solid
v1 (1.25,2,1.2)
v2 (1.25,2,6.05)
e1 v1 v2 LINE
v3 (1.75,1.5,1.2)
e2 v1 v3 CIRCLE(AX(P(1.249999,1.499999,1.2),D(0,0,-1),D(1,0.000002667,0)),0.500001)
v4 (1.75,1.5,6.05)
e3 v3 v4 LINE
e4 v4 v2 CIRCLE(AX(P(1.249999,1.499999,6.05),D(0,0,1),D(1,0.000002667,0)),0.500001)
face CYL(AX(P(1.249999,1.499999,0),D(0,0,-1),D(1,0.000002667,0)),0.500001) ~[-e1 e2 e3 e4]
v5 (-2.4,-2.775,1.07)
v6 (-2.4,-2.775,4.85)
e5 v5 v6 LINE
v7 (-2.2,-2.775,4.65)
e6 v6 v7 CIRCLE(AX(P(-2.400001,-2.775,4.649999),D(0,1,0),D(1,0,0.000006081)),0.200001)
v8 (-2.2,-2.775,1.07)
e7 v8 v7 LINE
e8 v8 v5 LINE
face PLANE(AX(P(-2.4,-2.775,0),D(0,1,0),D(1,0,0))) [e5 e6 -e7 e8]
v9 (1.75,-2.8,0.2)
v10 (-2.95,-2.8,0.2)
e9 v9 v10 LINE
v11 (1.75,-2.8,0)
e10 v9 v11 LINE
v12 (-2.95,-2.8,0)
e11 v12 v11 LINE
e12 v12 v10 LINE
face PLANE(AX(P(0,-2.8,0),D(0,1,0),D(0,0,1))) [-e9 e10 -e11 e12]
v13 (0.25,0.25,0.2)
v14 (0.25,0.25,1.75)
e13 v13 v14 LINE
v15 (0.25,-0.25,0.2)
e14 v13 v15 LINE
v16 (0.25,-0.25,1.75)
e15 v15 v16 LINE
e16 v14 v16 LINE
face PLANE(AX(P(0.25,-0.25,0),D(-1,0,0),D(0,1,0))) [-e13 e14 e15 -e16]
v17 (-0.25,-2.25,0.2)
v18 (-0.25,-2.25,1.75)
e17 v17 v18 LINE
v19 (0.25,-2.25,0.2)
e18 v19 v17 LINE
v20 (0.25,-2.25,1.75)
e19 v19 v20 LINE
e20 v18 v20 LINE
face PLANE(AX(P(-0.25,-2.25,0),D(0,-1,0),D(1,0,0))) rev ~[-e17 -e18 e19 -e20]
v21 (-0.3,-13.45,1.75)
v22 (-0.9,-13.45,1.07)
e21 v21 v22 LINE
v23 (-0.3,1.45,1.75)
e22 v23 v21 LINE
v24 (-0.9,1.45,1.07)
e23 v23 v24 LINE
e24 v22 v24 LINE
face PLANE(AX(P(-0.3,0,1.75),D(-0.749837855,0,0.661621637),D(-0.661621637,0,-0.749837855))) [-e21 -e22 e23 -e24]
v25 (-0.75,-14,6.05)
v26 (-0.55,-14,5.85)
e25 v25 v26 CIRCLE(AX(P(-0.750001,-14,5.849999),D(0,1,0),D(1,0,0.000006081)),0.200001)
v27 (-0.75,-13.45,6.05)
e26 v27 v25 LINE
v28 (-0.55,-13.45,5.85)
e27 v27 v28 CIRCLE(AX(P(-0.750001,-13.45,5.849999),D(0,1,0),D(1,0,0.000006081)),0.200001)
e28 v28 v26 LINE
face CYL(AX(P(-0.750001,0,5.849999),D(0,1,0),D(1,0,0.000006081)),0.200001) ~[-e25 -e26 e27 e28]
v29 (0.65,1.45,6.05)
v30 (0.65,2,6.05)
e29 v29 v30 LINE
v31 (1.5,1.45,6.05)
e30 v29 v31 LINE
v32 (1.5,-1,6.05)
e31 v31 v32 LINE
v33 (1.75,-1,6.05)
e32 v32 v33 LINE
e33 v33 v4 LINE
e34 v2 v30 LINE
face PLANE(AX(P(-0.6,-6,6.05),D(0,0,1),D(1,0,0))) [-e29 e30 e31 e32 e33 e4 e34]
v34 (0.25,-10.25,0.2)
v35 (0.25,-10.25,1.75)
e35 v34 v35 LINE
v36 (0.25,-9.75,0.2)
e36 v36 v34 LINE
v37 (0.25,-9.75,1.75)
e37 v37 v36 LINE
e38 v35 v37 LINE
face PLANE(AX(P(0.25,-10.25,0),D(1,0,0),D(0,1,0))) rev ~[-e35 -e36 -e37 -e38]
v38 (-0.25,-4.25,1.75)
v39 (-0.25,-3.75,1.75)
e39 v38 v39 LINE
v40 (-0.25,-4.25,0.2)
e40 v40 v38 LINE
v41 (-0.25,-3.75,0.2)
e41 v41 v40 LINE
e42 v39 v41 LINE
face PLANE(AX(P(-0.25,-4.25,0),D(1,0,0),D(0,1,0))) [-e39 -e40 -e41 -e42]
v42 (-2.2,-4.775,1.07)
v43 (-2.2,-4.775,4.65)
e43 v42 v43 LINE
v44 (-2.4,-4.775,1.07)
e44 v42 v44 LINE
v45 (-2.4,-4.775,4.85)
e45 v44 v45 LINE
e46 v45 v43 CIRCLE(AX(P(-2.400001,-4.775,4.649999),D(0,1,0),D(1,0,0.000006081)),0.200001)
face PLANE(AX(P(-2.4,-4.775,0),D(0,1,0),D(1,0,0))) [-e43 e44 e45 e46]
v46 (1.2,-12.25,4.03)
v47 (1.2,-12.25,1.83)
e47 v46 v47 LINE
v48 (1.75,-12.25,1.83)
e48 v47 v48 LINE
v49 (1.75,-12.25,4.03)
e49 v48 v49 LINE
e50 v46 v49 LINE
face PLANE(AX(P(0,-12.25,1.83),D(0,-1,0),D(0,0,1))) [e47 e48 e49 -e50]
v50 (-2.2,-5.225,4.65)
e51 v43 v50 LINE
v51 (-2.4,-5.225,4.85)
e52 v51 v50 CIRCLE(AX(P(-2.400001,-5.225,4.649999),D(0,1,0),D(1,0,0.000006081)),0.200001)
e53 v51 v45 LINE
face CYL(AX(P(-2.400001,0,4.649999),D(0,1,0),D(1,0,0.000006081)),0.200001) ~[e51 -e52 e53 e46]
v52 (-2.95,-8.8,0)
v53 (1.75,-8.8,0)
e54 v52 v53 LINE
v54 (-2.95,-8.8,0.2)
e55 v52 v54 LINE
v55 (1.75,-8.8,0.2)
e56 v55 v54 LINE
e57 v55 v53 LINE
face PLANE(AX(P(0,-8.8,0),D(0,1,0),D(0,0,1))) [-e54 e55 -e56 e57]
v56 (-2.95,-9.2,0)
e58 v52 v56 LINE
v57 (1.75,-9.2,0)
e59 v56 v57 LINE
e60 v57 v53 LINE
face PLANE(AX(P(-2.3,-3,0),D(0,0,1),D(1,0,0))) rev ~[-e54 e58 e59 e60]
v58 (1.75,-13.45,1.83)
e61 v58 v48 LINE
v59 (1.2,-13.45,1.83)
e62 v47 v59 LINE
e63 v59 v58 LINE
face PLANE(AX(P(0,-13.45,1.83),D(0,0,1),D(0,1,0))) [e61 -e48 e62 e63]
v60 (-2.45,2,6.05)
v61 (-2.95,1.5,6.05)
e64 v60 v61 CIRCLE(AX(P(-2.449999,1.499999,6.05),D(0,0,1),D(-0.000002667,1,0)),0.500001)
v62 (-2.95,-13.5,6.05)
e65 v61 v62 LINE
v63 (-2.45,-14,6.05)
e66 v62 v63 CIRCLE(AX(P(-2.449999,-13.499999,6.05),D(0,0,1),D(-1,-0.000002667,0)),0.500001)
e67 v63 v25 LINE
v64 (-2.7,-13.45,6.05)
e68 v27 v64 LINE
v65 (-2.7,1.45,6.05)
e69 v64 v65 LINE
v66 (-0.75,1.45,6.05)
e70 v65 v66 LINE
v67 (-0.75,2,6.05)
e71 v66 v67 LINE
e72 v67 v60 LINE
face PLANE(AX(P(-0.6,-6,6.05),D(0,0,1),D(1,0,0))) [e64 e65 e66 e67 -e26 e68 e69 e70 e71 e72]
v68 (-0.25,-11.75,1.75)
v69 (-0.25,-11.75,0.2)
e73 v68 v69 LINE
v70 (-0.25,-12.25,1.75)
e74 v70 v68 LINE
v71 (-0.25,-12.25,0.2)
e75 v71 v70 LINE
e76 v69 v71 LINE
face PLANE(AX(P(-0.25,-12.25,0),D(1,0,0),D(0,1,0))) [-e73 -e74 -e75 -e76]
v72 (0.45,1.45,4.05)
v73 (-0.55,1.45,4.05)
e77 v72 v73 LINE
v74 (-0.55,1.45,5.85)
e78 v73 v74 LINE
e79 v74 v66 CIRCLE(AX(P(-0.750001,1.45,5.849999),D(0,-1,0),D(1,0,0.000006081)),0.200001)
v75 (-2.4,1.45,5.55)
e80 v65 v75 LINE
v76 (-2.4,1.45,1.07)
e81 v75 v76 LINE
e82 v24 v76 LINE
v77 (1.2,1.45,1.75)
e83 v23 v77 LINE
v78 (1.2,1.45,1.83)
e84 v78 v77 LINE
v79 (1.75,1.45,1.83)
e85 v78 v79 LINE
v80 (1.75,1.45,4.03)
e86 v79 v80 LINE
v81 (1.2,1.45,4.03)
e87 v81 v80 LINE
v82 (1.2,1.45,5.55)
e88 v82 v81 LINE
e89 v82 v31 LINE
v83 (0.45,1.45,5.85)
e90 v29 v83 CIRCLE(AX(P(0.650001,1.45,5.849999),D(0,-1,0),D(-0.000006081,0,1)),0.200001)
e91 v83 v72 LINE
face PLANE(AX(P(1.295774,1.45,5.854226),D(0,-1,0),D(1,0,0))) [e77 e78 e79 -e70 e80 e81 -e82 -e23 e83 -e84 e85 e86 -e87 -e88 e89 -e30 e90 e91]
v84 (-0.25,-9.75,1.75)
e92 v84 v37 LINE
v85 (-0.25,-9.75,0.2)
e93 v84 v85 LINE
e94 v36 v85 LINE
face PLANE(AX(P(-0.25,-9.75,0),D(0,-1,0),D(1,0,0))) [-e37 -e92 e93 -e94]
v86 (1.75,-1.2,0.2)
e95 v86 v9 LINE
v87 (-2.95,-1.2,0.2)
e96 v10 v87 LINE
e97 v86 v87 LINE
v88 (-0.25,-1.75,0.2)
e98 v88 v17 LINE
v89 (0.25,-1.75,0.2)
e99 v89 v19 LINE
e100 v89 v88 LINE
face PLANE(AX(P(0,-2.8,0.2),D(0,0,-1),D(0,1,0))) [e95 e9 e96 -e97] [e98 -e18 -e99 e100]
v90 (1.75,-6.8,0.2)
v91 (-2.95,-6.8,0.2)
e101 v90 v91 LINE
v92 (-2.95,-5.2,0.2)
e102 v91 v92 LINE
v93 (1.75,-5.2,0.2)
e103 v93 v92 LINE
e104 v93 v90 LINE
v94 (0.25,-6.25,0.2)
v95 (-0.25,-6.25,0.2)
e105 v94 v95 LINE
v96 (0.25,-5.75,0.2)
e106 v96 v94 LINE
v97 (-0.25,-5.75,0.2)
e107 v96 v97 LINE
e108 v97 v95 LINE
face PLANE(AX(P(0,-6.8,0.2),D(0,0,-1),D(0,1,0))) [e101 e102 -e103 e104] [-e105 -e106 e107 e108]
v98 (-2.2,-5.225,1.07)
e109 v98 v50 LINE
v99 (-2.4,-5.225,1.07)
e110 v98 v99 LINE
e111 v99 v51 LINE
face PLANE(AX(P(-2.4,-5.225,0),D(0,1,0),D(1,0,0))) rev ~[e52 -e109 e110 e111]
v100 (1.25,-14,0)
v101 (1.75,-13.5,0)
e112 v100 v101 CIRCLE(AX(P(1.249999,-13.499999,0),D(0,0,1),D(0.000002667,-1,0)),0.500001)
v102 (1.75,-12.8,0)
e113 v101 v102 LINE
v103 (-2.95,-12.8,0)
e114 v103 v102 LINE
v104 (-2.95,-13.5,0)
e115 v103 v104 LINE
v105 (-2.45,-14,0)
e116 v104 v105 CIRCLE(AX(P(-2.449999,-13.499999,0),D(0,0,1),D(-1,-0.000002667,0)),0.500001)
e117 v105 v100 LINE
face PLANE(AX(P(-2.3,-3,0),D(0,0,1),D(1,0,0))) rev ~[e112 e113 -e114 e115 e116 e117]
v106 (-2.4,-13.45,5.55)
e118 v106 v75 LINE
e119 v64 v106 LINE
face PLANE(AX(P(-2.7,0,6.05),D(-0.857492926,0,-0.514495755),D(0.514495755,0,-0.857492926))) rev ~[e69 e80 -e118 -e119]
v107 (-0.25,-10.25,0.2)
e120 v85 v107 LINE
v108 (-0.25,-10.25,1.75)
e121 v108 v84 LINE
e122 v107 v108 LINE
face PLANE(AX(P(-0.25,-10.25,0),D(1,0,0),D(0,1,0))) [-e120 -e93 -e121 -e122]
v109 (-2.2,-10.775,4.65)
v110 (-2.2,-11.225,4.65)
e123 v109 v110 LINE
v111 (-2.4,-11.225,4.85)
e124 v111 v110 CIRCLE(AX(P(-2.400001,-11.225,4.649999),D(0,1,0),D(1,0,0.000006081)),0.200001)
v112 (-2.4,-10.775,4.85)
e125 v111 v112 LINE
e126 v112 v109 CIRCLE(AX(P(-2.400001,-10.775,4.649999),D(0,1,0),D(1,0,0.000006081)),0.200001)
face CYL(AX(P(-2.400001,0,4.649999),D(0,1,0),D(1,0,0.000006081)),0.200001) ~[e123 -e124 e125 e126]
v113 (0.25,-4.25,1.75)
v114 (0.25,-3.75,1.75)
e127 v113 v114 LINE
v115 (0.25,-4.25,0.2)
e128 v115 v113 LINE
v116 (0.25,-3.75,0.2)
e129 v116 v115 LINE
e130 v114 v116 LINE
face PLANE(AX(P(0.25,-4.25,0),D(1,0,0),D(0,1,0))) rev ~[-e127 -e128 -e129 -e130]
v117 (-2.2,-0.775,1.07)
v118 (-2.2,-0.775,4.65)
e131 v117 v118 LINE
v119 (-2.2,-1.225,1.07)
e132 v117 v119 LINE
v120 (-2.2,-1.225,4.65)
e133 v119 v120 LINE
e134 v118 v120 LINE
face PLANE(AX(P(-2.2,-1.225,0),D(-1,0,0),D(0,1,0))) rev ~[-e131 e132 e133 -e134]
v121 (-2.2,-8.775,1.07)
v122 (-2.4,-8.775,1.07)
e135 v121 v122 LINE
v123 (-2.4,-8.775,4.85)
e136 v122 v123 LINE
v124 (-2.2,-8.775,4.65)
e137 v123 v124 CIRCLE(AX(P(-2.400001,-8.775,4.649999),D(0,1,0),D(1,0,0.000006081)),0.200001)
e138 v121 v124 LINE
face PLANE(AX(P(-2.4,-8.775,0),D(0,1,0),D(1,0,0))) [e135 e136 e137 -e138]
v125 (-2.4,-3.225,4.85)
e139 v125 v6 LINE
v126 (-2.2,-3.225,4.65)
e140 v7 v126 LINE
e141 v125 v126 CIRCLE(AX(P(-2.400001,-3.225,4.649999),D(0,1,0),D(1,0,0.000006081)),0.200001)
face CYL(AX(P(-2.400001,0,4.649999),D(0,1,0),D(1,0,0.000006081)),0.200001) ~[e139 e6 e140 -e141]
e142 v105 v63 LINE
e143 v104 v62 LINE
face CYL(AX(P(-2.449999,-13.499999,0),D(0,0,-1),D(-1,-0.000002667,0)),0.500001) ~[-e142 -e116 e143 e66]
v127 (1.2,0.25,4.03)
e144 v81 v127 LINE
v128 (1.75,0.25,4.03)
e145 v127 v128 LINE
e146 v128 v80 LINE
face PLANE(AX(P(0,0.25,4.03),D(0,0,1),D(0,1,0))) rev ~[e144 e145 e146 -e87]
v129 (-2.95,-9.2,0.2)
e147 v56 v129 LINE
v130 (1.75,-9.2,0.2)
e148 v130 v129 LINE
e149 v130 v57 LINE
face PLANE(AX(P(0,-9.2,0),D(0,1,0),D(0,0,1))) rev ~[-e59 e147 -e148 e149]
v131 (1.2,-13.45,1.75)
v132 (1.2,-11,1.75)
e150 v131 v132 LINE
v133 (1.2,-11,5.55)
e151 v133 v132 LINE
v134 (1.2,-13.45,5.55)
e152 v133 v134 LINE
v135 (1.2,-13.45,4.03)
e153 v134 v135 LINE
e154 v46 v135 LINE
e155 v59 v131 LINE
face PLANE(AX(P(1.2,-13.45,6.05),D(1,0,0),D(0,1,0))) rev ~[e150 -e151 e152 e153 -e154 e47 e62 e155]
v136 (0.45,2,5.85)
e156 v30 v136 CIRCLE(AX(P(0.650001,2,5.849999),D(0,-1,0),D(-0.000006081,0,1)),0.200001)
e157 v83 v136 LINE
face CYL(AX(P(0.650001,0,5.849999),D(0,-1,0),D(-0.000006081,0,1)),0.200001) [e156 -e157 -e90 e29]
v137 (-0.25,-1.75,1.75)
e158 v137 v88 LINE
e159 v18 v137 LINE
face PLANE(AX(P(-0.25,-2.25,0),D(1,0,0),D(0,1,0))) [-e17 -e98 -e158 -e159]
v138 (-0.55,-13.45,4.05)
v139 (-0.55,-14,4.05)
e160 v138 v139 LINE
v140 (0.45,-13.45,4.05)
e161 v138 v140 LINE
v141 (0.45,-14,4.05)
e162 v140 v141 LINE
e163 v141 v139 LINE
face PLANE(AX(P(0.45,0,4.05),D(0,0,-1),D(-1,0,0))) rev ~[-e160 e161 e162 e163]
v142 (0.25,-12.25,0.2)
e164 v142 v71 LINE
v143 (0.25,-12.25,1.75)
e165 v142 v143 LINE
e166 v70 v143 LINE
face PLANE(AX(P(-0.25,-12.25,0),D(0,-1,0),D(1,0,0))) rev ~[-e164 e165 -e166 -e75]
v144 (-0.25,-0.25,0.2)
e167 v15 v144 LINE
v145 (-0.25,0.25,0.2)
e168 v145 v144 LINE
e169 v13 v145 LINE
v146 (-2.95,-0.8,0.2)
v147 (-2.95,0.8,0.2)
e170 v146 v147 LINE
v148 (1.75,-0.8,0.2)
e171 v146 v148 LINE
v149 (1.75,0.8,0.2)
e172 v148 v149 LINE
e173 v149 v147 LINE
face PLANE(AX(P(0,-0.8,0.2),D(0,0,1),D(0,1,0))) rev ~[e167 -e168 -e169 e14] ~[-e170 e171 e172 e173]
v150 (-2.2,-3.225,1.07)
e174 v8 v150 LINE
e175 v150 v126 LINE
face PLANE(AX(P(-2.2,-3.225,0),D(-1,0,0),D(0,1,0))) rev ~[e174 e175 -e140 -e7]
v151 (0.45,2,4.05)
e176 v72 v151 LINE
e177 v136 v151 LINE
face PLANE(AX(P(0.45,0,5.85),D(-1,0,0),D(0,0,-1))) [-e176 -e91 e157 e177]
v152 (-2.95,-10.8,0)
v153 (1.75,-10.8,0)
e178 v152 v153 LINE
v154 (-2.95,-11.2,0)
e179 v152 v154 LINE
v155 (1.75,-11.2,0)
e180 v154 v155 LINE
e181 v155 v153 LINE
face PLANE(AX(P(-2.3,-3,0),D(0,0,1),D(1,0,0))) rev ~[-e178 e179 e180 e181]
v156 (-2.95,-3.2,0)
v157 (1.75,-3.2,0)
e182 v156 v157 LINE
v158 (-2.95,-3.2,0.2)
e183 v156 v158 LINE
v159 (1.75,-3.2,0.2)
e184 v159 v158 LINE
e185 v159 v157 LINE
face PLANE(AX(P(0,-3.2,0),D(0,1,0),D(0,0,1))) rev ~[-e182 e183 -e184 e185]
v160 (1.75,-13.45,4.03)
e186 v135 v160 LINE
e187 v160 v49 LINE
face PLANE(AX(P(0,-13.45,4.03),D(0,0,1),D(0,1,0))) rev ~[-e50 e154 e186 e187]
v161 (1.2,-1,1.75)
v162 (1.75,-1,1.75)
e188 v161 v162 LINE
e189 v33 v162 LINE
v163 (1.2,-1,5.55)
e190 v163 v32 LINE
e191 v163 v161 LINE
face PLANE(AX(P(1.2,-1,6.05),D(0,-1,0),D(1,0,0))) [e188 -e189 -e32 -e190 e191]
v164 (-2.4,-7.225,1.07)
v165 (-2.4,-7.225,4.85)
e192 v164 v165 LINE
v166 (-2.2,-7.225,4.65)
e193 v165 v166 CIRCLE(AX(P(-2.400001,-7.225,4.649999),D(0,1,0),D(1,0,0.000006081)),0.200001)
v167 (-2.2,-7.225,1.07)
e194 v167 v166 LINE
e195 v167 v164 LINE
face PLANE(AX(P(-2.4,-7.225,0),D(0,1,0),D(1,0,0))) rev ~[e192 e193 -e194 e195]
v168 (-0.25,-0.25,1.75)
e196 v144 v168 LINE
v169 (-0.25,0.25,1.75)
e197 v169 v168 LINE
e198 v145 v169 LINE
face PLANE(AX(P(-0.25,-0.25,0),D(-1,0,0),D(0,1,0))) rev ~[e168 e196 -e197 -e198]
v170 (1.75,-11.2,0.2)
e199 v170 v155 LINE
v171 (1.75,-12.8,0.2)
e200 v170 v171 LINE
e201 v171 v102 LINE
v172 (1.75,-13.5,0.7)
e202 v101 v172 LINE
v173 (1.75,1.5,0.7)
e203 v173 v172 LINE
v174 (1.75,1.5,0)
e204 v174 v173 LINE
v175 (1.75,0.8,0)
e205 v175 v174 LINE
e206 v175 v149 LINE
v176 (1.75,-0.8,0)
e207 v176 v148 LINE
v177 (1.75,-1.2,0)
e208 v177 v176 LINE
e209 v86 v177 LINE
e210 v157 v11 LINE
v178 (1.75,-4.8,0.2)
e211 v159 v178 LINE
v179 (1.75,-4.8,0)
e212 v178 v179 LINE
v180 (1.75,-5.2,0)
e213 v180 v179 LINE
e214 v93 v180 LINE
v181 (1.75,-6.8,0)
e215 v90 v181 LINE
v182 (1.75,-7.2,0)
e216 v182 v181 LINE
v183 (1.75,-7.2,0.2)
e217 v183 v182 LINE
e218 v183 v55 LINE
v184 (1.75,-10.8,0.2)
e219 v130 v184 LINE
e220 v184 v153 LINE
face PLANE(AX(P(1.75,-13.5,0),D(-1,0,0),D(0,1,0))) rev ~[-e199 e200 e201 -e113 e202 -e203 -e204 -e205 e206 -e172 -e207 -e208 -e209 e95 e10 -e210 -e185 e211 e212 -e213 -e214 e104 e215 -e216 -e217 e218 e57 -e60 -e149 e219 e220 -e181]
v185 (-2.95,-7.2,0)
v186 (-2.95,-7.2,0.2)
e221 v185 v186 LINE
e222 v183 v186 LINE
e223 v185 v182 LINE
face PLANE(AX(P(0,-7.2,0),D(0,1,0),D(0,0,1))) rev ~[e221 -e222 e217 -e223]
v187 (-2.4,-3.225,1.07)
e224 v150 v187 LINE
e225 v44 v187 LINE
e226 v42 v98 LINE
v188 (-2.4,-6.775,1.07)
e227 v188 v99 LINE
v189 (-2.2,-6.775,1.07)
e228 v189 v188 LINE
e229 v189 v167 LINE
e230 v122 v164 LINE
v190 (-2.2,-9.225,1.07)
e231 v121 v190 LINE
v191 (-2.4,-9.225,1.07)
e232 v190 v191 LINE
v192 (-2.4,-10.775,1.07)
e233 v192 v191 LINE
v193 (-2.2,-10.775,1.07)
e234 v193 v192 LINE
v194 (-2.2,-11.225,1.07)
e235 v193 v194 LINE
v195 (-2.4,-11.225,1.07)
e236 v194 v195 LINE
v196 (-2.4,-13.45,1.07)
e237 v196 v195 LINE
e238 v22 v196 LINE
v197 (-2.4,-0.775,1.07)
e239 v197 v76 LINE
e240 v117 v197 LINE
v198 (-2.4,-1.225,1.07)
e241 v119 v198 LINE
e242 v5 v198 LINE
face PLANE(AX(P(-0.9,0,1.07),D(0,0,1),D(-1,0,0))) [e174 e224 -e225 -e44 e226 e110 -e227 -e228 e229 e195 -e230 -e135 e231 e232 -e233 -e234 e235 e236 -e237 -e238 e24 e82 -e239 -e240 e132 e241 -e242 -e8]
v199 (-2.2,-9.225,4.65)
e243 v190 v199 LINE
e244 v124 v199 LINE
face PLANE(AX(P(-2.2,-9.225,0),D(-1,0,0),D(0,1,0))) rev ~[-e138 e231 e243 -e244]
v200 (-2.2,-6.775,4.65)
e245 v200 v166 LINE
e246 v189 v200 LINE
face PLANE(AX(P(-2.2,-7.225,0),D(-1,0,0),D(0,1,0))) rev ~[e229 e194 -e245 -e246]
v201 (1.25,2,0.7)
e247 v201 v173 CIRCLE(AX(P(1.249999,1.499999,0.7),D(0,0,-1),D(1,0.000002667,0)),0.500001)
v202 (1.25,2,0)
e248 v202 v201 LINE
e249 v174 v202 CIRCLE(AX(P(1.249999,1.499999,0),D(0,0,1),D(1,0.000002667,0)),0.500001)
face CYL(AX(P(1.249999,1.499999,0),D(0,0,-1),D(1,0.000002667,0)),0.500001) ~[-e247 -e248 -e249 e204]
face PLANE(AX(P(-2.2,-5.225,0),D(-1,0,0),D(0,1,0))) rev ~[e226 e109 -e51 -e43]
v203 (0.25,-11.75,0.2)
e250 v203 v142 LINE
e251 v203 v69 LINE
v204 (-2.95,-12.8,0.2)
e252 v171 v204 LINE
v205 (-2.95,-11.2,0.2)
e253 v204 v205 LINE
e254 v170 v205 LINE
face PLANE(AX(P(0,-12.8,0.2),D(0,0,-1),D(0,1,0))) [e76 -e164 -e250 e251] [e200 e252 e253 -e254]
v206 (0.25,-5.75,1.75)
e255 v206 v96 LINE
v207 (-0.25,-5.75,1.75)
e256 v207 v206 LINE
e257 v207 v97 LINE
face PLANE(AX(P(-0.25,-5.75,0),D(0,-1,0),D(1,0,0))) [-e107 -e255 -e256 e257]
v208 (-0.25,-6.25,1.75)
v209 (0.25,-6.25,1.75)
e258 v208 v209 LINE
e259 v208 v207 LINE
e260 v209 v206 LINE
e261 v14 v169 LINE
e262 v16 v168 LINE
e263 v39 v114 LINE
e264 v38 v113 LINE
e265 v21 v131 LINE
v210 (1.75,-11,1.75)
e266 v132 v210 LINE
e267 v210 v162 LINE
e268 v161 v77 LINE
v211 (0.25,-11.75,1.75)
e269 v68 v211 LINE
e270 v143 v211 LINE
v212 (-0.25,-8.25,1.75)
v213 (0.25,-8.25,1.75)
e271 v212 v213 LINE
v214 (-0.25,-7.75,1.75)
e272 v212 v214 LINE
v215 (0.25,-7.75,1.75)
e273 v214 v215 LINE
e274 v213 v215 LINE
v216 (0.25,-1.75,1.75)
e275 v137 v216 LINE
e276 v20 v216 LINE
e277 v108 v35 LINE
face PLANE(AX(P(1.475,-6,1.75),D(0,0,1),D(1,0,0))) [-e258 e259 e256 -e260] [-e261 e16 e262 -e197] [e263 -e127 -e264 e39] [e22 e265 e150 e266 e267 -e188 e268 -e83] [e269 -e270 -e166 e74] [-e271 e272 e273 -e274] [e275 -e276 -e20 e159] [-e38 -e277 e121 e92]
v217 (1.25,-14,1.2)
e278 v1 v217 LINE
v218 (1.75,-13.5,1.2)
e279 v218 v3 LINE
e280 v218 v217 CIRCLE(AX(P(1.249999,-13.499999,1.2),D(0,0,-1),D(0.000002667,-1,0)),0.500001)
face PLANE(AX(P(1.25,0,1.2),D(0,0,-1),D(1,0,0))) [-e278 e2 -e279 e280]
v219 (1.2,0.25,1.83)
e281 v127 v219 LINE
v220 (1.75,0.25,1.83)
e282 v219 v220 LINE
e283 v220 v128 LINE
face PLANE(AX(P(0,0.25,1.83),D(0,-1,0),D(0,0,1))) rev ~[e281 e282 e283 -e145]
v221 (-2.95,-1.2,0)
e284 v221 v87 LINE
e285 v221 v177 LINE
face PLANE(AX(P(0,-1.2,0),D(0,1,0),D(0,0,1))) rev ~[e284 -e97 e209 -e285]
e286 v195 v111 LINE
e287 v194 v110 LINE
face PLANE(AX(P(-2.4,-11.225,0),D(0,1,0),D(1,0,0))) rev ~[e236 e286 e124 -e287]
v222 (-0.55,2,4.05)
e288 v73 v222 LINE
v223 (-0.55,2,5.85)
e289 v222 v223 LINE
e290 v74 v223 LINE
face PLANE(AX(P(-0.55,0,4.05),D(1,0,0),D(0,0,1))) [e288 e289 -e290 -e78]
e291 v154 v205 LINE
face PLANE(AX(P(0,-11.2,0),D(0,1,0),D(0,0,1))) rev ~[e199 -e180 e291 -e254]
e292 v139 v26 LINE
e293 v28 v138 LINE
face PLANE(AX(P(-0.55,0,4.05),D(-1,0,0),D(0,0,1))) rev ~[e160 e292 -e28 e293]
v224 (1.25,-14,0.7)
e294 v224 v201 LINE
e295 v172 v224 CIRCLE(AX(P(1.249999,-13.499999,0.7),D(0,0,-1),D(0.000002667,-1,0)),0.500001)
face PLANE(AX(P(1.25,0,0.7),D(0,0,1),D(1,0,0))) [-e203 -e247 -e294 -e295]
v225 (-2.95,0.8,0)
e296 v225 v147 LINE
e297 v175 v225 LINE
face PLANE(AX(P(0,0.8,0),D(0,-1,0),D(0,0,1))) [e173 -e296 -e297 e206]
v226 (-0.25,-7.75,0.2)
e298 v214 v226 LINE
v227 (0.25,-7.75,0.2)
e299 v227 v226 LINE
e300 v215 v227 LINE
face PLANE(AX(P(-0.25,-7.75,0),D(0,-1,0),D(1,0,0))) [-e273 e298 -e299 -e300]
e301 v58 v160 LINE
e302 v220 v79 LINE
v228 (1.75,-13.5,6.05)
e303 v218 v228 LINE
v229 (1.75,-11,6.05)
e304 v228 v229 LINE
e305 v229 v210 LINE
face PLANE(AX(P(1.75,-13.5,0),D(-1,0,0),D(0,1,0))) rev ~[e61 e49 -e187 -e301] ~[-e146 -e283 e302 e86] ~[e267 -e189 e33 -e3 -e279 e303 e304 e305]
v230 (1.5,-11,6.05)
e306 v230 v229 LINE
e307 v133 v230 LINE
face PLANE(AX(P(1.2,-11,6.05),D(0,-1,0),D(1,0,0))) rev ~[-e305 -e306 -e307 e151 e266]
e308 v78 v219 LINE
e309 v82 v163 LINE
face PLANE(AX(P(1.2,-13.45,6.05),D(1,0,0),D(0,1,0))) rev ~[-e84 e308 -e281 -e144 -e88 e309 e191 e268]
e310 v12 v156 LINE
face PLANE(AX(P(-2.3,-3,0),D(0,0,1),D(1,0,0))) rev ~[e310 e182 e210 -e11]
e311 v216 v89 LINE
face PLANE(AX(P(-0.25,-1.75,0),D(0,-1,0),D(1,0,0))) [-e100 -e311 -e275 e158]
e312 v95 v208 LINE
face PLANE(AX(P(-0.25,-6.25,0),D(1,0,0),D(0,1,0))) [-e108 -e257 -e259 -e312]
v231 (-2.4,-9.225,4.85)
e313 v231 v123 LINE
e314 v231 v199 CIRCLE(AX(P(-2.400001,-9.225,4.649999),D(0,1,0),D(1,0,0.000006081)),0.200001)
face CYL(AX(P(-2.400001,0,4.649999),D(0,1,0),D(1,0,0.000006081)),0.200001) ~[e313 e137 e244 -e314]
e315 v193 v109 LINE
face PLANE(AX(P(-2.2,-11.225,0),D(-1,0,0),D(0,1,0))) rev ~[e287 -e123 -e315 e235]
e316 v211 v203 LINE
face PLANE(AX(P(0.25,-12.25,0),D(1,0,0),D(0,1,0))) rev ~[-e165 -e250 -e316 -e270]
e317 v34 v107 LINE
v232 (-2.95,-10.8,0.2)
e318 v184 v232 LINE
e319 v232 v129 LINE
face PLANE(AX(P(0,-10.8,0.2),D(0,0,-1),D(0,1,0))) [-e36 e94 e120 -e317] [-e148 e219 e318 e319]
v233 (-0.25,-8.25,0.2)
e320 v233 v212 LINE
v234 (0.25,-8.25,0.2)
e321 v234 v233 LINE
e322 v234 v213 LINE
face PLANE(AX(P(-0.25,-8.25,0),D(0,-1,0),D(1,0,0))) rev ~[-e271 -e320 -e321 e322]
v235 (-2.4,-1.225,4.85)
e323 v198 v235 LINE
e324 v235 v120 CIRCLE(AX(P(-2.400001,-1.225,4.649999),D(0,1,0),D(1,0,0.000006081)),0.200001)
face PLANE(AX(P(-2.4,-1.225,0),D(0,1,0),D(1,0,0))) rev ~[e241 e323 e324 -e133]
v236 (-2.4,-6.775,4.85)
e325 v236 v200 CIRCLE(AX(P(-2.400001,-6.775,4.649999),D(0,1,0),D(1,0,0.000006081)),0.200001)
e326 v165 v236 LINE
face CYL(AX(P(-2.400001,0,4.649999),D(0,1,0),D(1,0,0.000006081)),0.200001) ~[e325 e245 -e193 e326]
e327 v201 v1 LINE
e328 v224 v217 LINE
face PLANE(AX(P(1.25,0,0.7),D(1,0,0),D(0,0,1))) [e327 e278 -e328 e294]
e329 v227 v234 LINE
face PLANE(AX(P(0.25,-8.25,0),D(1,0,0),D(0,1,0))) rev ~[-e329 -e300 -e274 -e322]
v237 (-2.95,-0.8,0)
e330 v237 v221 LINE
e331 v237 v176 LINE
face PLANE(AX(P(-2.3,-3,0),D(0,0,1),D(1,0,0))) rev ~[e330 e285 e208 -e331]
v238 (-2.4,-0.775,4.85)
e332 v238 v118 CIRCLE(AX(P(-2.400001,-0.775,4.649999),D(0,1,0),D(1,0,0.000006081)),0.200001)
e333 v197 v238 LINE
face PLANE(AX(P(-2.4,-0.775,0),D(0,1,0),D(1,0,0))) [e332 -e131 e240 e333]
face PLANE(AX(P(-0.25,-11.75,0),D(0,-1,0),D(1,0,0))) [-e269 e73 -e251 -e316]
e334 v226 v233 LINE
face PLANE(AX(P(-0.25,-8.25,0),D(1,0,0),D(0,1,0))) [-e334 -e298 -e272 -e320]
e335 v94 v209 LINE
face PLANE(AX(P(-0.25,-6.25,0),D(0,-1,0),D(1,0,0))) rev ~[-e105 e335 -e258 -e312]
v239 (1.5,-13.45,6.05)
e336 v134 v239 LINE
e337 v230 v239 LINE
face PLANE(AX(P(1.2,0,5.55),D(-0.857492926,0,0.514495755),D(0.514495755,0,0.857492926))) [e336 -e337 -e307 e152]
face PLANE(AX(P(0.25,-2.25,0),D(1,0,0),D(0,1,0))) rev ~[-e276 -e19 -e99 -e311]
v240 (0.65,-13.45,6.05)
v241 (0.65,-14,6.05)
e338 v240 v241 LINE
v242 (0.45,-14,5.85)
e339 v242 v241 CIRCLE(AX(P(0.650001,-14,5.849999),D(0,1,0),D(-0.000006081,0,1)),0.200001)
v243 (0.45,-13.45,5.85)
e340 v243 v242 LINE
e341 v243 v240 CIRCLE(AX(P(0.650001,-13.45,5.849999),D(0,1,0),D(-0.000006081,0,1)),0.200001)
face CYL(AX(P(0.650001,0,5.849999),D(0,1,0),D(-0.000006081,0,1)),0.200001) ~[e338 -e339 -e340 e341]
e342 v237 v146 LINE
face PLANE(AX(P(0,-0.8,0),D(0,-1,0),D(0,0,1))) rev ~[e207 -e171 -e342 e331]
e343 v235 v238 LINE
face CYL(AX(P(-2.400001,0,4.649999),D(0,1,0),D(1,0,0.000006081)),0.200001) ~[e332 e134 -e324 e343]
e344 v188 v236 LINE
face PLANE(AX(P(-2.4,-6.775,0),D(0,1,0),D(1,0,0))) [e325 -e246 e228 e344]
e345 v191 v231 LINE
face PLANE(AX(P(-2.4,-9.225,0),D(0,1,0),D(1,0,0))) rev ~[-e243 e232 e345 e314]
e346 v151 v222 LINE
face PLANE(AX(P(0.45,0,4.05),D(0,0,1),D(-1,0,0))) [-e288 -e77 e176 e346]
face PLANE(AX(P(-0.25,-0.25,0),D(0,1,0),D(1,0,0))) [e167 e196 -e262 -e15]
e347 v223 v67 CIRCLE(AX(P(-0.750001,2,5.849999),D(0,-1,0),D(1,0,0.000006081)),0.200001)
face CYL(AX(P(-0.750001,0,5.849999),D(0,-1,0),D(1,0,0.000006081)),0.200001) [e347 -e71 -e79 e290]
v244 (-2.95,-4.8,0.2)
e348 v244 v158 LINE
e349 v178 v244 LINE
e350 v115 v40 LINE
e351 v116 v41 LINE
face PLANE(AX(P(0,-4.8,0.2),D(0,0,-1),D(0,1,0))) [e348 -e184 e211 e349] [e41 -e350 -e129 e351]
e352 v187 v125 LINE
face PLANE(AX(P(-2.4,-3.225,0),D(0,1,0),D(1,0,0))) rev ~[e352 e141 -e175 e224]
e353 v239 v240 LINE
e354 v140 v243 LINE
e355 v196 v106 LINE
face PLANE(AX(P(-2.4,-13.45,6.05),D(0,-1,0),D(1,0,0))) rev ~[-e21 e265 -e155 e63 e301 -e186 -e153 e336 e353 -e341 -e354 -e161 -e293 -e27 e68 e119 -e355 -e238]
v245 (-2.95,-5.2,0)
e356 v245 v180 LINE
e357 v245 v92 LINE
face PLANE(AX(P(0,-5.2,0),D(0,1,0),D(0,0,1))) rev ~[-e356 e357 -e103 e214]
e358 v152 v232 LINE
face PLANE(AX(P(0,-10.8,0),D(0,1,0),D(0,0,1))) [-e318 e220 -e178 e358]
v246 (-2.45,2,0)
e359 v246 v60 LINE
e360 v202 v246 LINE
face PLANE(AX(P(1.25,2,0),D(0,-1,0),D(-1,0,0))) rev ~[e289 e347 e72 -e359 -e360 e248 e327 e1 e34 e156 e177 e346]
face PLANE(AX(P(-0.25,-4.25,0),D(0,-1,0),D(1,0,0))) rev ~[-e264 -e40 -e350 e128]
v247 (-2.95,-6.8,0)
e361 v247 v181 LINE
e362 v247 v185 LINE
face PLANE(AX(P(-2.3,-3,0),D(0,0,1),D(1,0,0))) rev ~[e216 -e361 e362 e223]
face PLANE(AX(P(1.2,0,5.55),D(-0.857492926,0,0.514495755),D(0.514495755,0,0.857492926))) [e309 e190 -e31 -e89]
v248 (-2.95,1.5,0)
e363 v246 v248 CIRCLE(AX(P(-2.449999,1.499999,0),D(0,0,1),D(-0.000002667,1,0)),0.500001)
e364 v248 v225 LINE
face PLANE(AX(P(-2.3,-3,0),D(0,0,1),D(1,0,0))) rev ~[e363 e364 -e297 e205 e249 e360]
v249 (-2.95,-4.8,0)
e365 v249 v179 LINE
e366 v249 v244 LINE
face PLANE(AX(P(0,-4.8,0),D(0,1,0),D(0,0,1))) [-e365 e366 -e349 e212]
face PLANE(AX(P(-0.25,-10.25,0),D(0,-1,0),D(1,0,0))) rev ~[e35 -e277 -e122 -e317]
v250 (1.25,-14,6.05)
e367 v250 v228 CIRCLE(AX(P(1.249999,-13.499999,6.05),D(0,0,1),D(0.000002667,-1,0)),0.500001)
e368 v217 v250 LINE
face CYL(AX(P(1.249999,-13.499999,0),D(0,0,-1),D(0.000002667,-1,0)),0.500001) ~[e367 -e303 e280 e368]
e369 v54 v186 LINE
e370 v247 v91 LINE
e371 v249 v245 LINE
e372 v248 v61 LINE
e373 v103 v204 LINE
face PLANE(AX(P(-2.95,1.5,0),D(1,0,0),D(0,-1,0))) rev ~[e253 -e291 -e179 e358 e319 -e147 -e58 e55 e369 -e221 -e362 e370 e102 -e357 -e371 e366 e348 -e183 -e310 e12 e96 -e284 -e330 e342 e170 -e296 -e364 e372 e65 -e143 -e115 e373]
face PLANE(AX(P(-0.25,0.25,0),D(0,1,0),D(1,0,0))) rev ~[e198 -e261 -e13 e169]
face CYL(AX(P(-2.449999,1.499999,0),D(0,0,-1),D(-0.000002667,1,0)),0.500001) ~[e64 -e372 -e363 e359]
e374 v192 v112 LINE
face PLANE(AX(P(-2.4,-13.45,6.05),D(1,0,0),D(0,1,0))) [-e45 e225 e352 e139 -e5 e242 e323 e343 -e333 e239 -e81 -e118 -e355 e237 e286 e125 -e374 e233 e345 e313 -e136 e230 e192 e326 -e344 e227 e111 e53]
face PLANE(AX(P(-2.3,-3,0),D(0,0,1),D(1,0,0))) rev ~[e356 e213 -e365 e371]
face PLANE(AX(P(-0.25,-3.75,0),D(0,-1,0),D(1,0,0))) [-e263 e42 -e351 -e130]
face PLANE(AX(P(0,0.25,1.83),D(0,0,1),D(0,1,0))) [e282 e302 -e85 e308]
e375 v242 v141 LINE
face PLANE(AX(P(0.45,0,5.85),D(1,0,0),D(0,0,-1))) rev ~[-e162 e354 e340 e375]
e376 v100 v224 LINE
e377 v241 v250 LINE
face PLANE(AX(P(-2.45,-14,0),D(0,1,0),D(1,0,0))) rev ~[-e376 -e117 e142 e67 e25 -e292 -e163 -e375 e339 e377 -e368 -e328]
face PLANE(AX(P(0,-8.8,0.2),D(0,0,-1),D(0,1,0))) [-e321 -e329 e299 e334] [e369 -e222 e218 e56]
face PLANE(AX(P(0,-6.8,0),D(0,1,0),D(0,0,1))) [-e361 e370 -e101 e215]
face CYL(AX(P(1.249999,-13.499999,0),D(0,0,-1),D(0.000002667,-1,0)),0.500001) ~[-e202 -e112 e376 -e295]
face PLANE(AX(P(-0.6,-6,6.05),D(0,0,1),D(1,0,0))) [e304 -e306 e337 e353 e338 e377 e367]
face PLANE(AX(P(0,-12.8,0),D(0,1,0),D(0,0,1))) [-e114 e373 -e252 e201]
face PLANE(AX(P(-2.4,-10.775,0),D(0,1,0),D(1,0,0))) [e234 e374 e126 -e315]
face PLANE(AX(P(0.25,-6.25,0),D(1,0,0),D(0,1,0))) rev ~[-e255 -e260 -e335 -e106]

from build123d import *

# Parameters (mm, degrees)
PAD_DEPTH              = 6.05
SKETCH_W               = 3.6
SKETCH_H               = 14.9
POCKET_DEPTH           = 4.3
POCKET001_DEPTH        = 1.45
POCKET001_DEPTH_BACK   = 13.45
SKETCH004_W            = 0.55
SKETCH004_H            = 10
POCKET002_DEPTH        = 4.3
SKETCH005_W            = 1.2
SKETCH005_H            = 2.2
POCKET003_DEPTH        = 1.751
POCKET004_DEPTH        = 2.001
POCKET004_DEPTH_BACK   = 14.001
SKETCH007_W            = 0.5
SKETCH007_H            = 0.5
POCKET005_DEPTH        = 2.001
POCKET005_DEPTH_BACK   = 14.001
SKETCH008_W            = 0.2
SKETCH008_H            = 0.45
PAD001_DEPTH           = 4.85
LINEARPATTERN_COUNT    = 6
LINEARPATTERN_PITCH    = 2
POCKET006_DEPTH        = 12
SKETCH010_W            = 1.6
SKETCH010_H            = 0.2
POCKET007_DEPTH        = 2.951
POCKET007_DEPTH_BACK   = 1.751
LINEARPATTERN001_COUNT = 7
LINEARPATTERN001_PITCH = 2
SKETCH011_W            = 0.5
SKETCH011_H            = 0.5
POCKET008_DEPTH        = 0.001
POCKET008_DEPTH_BACK   = 6.051
LINEARPATTERN002_COUNT = 7
LINEARPATTERN002_PITCH = 2


with BuildPart() as part:
    # Sketch001 → Pad (new body)
    with BuildSketch(Plane.XY):
        with BuildLine():
            Line((-2.95, 1.5), (-2.95, -13.5))
            ThreePointArc((-2.95, -13.5), (-2.803553, -13.853553), (-2.45, -14))
            Line((-2.45, -14), (1.25, -14))
            ThreePointArc((1.25, -14), (1.603553, -13.853553), (1.75, -13.5))
            Line((1.75, -13.5), (1.75, 1.5))
            ThreePointArc((1.75, 1.5), (1.603553, 1.853553), (1.25, 2))
            Line((1.25, 2), (-2.45, 2))
            ThreePointArc((-2.45, 2), (-2.803553, 1.853553), (-2.95, 1.5))
        make_face()
    extrude(amount=PAD_DEPTH)

    # Sketch (on DatumPlane) → Pocket (cut)
    with BuildSketch(Plane.XY.offset(6.05)):
        with Locations((-0.6, -6)):
            Rectangle(SKETCH_W, SKETCH_H)
    extrude(amount=-POCKET_DEPTH, mode=Mode.SUBTRACT)

    # Sketch003 → Pocket001 (cut, two sides)
    with BuildSketch(Plane.XZ) as pocket001_sk:
        Polygon((1.5, 6.05), (1.2, 6.05), (1.2, 5.55), align=None)
        Polygon((-2.7, 6.05), (-2.4, 5.55), (-2.4, 6.05), align=None)
        Polygon((-2.4, 1.75), (-0.3, 1.75), (-0.9, 1.07), (-2.4, 1.07), align=None)
    extrude(amount=-POCKET001_DEPTH, mode=Mode.SUBTRACT)
    extrude(pocket001_sk.sketch, amount=POCKET001_DEPTH_BACK, mode=Mode.SUBTRACT)

    # Sketch004 (on DatumPlane) → Pocket002 (cut)
    with BuildSketch(Plane.XY.offset(6.05)):
        with Locations((1.475, -6)):
            Rectangle(SKETCH004_W, SKETCH004_H)
    extrude(amount=-POCKET002_DEPTH, mode=Mode.SUBTRACT)

    # Sketch005 → Pocket003 (cut, through all)
    with BuildSketch(Plane.YZ):
        with Locations((0.85, 2.93)):
            Rectangle(SKETCH005_W, SKETCH005_H)
        with Locations((-12.85, 2.93)):
            Rectangle(SKETCH005_W, SKETCH005_H)
    extrude(amount=POCKET003_DEPTH, mode=Mode.SUBTRACT)

    # Sketch006 → Pocket004 (cut, two sides)
    with BuildSketch(Plane.XZ) as pocket004_sk:
        with BuildLine():
            Line((0.45, 5.85), (0.45, 4.05))
            Line((0.45, 4.05), (-0.55, 4.05))
            Line((-0.55, 4.05), (-0.55, 5.85))
            ThreePointArc((-0.55, 5.85), (-0.608579, 5.991421), (-0.75, 6.05))
            Line((0.65, 6.05), (-0.75, 6.05))
            ThreePointArc((0.65, 6.05), (0.508579, 5.991421), (0.45, 5.85))
        make_face()
    extrude(amount=-POCKET004_DEPTH, mode=Mode.SUBTRACT)
    extrude(pocket004_sk.sketch, amount=POCKET004_DEPTH_BACK, mode=Mode.SUBTRACT)

    # Sketch007 → Pocket005 (cut, two sides)
    with BuildSketch(Plane.XZ) as pocket005_sk:
        with Locations((1.5, 0.95)):
            Rectangle(SKETCH007_W, SKETCH007_H)
    extrude(amount=-POCKET005_DEPTH, mode=Mode.SUBTRACT)
    extrude(pocket005_sk.sketch, amount=POCKET005_DEPTH_BACK, mode=Mode.SUBTRACT)

    # Sketch008 → Pad001 (join)
    with BuildSketch(Plane.XY):
        with Locations((-2.3, -1)):
            Rectangle(SKETCH008_W, SKETCH008_H)
    pad001 = extrude(amount=PAD001_DEPTH)

    # LinearPattern: Pad001 ×6
    with Locations(*[(0, -i * LINEARPATTERN_PITCH, 0) for i in range(1, LINEARPATTERN_COUNT)]):
        add(pad001)

    # Sketch009 → Pocket006 (cut)
    with BuildSketch(Plane.XZ):
        with BuildLine():
            Line((-2.4, 4.95), (-2.2, 4.95))
            Line((-2.2, 4.95), (-2.2, 4.65))
            ThreePointArc((-2.2, 4.65), (-2.258579, 4.791421), (-2.4, 4.85))
            Line((-2.4, 4.85), (-2.4, 4.95))
        make_face()
    extrude(amount=POCKET006_DEPTH, mode=Mode.SUBTRACT)

    # Sketch010 → Pocket007 (cut, two sides)
    with BuildSketch(Plane.YZ) as pocket007_sk:
        with Locations((0, 0.1)):
            Rectangle(SKETCH010_W, SKETCH010_H)
    pocket007 = extrude(amount=-POCKET007_DEPTH, mode=Mode.SUBTRACT) + extrude(pocket007_sk.sketch, amount=POCKET007_DEPTH_BACK, mode=Mode.SUBTRACT)

    # LinearPattern001: Pocket007 ×7
    with Locations(*[(0, -i * LINEARPATTERN001_PITCH, 0) for i in range(1, LINEARPATTERN001_COUNT)]):
        add(pocket007, mode=Mode.SUBTRACT)

    # Sketch011 → Pocket008 (cut, two sides)
    with BuildSketch(Plane.XY) as pocket008_sk:
        Rectangle(SKETCH011_W, SKETCH011_H)
    pocket008 = extrude(amount=-POCKET008_DEPTH, mode=Mode.SUBTRACT) + extrude(pocket008_sk.sketch, amount=POCKET008_DEPTH_BACK, mode=Mode.SUBTRACT)

    # LinearPattern002: Pocket008 ×7
    with Locations(*[(0, -i * LINEARPATTERN002_PITCH, 0) for i in range(1, LINEARPATTERN002_COUNT)]):
        add(pocket008, mode=Mode.SUBTRACT)


solid = part.part
